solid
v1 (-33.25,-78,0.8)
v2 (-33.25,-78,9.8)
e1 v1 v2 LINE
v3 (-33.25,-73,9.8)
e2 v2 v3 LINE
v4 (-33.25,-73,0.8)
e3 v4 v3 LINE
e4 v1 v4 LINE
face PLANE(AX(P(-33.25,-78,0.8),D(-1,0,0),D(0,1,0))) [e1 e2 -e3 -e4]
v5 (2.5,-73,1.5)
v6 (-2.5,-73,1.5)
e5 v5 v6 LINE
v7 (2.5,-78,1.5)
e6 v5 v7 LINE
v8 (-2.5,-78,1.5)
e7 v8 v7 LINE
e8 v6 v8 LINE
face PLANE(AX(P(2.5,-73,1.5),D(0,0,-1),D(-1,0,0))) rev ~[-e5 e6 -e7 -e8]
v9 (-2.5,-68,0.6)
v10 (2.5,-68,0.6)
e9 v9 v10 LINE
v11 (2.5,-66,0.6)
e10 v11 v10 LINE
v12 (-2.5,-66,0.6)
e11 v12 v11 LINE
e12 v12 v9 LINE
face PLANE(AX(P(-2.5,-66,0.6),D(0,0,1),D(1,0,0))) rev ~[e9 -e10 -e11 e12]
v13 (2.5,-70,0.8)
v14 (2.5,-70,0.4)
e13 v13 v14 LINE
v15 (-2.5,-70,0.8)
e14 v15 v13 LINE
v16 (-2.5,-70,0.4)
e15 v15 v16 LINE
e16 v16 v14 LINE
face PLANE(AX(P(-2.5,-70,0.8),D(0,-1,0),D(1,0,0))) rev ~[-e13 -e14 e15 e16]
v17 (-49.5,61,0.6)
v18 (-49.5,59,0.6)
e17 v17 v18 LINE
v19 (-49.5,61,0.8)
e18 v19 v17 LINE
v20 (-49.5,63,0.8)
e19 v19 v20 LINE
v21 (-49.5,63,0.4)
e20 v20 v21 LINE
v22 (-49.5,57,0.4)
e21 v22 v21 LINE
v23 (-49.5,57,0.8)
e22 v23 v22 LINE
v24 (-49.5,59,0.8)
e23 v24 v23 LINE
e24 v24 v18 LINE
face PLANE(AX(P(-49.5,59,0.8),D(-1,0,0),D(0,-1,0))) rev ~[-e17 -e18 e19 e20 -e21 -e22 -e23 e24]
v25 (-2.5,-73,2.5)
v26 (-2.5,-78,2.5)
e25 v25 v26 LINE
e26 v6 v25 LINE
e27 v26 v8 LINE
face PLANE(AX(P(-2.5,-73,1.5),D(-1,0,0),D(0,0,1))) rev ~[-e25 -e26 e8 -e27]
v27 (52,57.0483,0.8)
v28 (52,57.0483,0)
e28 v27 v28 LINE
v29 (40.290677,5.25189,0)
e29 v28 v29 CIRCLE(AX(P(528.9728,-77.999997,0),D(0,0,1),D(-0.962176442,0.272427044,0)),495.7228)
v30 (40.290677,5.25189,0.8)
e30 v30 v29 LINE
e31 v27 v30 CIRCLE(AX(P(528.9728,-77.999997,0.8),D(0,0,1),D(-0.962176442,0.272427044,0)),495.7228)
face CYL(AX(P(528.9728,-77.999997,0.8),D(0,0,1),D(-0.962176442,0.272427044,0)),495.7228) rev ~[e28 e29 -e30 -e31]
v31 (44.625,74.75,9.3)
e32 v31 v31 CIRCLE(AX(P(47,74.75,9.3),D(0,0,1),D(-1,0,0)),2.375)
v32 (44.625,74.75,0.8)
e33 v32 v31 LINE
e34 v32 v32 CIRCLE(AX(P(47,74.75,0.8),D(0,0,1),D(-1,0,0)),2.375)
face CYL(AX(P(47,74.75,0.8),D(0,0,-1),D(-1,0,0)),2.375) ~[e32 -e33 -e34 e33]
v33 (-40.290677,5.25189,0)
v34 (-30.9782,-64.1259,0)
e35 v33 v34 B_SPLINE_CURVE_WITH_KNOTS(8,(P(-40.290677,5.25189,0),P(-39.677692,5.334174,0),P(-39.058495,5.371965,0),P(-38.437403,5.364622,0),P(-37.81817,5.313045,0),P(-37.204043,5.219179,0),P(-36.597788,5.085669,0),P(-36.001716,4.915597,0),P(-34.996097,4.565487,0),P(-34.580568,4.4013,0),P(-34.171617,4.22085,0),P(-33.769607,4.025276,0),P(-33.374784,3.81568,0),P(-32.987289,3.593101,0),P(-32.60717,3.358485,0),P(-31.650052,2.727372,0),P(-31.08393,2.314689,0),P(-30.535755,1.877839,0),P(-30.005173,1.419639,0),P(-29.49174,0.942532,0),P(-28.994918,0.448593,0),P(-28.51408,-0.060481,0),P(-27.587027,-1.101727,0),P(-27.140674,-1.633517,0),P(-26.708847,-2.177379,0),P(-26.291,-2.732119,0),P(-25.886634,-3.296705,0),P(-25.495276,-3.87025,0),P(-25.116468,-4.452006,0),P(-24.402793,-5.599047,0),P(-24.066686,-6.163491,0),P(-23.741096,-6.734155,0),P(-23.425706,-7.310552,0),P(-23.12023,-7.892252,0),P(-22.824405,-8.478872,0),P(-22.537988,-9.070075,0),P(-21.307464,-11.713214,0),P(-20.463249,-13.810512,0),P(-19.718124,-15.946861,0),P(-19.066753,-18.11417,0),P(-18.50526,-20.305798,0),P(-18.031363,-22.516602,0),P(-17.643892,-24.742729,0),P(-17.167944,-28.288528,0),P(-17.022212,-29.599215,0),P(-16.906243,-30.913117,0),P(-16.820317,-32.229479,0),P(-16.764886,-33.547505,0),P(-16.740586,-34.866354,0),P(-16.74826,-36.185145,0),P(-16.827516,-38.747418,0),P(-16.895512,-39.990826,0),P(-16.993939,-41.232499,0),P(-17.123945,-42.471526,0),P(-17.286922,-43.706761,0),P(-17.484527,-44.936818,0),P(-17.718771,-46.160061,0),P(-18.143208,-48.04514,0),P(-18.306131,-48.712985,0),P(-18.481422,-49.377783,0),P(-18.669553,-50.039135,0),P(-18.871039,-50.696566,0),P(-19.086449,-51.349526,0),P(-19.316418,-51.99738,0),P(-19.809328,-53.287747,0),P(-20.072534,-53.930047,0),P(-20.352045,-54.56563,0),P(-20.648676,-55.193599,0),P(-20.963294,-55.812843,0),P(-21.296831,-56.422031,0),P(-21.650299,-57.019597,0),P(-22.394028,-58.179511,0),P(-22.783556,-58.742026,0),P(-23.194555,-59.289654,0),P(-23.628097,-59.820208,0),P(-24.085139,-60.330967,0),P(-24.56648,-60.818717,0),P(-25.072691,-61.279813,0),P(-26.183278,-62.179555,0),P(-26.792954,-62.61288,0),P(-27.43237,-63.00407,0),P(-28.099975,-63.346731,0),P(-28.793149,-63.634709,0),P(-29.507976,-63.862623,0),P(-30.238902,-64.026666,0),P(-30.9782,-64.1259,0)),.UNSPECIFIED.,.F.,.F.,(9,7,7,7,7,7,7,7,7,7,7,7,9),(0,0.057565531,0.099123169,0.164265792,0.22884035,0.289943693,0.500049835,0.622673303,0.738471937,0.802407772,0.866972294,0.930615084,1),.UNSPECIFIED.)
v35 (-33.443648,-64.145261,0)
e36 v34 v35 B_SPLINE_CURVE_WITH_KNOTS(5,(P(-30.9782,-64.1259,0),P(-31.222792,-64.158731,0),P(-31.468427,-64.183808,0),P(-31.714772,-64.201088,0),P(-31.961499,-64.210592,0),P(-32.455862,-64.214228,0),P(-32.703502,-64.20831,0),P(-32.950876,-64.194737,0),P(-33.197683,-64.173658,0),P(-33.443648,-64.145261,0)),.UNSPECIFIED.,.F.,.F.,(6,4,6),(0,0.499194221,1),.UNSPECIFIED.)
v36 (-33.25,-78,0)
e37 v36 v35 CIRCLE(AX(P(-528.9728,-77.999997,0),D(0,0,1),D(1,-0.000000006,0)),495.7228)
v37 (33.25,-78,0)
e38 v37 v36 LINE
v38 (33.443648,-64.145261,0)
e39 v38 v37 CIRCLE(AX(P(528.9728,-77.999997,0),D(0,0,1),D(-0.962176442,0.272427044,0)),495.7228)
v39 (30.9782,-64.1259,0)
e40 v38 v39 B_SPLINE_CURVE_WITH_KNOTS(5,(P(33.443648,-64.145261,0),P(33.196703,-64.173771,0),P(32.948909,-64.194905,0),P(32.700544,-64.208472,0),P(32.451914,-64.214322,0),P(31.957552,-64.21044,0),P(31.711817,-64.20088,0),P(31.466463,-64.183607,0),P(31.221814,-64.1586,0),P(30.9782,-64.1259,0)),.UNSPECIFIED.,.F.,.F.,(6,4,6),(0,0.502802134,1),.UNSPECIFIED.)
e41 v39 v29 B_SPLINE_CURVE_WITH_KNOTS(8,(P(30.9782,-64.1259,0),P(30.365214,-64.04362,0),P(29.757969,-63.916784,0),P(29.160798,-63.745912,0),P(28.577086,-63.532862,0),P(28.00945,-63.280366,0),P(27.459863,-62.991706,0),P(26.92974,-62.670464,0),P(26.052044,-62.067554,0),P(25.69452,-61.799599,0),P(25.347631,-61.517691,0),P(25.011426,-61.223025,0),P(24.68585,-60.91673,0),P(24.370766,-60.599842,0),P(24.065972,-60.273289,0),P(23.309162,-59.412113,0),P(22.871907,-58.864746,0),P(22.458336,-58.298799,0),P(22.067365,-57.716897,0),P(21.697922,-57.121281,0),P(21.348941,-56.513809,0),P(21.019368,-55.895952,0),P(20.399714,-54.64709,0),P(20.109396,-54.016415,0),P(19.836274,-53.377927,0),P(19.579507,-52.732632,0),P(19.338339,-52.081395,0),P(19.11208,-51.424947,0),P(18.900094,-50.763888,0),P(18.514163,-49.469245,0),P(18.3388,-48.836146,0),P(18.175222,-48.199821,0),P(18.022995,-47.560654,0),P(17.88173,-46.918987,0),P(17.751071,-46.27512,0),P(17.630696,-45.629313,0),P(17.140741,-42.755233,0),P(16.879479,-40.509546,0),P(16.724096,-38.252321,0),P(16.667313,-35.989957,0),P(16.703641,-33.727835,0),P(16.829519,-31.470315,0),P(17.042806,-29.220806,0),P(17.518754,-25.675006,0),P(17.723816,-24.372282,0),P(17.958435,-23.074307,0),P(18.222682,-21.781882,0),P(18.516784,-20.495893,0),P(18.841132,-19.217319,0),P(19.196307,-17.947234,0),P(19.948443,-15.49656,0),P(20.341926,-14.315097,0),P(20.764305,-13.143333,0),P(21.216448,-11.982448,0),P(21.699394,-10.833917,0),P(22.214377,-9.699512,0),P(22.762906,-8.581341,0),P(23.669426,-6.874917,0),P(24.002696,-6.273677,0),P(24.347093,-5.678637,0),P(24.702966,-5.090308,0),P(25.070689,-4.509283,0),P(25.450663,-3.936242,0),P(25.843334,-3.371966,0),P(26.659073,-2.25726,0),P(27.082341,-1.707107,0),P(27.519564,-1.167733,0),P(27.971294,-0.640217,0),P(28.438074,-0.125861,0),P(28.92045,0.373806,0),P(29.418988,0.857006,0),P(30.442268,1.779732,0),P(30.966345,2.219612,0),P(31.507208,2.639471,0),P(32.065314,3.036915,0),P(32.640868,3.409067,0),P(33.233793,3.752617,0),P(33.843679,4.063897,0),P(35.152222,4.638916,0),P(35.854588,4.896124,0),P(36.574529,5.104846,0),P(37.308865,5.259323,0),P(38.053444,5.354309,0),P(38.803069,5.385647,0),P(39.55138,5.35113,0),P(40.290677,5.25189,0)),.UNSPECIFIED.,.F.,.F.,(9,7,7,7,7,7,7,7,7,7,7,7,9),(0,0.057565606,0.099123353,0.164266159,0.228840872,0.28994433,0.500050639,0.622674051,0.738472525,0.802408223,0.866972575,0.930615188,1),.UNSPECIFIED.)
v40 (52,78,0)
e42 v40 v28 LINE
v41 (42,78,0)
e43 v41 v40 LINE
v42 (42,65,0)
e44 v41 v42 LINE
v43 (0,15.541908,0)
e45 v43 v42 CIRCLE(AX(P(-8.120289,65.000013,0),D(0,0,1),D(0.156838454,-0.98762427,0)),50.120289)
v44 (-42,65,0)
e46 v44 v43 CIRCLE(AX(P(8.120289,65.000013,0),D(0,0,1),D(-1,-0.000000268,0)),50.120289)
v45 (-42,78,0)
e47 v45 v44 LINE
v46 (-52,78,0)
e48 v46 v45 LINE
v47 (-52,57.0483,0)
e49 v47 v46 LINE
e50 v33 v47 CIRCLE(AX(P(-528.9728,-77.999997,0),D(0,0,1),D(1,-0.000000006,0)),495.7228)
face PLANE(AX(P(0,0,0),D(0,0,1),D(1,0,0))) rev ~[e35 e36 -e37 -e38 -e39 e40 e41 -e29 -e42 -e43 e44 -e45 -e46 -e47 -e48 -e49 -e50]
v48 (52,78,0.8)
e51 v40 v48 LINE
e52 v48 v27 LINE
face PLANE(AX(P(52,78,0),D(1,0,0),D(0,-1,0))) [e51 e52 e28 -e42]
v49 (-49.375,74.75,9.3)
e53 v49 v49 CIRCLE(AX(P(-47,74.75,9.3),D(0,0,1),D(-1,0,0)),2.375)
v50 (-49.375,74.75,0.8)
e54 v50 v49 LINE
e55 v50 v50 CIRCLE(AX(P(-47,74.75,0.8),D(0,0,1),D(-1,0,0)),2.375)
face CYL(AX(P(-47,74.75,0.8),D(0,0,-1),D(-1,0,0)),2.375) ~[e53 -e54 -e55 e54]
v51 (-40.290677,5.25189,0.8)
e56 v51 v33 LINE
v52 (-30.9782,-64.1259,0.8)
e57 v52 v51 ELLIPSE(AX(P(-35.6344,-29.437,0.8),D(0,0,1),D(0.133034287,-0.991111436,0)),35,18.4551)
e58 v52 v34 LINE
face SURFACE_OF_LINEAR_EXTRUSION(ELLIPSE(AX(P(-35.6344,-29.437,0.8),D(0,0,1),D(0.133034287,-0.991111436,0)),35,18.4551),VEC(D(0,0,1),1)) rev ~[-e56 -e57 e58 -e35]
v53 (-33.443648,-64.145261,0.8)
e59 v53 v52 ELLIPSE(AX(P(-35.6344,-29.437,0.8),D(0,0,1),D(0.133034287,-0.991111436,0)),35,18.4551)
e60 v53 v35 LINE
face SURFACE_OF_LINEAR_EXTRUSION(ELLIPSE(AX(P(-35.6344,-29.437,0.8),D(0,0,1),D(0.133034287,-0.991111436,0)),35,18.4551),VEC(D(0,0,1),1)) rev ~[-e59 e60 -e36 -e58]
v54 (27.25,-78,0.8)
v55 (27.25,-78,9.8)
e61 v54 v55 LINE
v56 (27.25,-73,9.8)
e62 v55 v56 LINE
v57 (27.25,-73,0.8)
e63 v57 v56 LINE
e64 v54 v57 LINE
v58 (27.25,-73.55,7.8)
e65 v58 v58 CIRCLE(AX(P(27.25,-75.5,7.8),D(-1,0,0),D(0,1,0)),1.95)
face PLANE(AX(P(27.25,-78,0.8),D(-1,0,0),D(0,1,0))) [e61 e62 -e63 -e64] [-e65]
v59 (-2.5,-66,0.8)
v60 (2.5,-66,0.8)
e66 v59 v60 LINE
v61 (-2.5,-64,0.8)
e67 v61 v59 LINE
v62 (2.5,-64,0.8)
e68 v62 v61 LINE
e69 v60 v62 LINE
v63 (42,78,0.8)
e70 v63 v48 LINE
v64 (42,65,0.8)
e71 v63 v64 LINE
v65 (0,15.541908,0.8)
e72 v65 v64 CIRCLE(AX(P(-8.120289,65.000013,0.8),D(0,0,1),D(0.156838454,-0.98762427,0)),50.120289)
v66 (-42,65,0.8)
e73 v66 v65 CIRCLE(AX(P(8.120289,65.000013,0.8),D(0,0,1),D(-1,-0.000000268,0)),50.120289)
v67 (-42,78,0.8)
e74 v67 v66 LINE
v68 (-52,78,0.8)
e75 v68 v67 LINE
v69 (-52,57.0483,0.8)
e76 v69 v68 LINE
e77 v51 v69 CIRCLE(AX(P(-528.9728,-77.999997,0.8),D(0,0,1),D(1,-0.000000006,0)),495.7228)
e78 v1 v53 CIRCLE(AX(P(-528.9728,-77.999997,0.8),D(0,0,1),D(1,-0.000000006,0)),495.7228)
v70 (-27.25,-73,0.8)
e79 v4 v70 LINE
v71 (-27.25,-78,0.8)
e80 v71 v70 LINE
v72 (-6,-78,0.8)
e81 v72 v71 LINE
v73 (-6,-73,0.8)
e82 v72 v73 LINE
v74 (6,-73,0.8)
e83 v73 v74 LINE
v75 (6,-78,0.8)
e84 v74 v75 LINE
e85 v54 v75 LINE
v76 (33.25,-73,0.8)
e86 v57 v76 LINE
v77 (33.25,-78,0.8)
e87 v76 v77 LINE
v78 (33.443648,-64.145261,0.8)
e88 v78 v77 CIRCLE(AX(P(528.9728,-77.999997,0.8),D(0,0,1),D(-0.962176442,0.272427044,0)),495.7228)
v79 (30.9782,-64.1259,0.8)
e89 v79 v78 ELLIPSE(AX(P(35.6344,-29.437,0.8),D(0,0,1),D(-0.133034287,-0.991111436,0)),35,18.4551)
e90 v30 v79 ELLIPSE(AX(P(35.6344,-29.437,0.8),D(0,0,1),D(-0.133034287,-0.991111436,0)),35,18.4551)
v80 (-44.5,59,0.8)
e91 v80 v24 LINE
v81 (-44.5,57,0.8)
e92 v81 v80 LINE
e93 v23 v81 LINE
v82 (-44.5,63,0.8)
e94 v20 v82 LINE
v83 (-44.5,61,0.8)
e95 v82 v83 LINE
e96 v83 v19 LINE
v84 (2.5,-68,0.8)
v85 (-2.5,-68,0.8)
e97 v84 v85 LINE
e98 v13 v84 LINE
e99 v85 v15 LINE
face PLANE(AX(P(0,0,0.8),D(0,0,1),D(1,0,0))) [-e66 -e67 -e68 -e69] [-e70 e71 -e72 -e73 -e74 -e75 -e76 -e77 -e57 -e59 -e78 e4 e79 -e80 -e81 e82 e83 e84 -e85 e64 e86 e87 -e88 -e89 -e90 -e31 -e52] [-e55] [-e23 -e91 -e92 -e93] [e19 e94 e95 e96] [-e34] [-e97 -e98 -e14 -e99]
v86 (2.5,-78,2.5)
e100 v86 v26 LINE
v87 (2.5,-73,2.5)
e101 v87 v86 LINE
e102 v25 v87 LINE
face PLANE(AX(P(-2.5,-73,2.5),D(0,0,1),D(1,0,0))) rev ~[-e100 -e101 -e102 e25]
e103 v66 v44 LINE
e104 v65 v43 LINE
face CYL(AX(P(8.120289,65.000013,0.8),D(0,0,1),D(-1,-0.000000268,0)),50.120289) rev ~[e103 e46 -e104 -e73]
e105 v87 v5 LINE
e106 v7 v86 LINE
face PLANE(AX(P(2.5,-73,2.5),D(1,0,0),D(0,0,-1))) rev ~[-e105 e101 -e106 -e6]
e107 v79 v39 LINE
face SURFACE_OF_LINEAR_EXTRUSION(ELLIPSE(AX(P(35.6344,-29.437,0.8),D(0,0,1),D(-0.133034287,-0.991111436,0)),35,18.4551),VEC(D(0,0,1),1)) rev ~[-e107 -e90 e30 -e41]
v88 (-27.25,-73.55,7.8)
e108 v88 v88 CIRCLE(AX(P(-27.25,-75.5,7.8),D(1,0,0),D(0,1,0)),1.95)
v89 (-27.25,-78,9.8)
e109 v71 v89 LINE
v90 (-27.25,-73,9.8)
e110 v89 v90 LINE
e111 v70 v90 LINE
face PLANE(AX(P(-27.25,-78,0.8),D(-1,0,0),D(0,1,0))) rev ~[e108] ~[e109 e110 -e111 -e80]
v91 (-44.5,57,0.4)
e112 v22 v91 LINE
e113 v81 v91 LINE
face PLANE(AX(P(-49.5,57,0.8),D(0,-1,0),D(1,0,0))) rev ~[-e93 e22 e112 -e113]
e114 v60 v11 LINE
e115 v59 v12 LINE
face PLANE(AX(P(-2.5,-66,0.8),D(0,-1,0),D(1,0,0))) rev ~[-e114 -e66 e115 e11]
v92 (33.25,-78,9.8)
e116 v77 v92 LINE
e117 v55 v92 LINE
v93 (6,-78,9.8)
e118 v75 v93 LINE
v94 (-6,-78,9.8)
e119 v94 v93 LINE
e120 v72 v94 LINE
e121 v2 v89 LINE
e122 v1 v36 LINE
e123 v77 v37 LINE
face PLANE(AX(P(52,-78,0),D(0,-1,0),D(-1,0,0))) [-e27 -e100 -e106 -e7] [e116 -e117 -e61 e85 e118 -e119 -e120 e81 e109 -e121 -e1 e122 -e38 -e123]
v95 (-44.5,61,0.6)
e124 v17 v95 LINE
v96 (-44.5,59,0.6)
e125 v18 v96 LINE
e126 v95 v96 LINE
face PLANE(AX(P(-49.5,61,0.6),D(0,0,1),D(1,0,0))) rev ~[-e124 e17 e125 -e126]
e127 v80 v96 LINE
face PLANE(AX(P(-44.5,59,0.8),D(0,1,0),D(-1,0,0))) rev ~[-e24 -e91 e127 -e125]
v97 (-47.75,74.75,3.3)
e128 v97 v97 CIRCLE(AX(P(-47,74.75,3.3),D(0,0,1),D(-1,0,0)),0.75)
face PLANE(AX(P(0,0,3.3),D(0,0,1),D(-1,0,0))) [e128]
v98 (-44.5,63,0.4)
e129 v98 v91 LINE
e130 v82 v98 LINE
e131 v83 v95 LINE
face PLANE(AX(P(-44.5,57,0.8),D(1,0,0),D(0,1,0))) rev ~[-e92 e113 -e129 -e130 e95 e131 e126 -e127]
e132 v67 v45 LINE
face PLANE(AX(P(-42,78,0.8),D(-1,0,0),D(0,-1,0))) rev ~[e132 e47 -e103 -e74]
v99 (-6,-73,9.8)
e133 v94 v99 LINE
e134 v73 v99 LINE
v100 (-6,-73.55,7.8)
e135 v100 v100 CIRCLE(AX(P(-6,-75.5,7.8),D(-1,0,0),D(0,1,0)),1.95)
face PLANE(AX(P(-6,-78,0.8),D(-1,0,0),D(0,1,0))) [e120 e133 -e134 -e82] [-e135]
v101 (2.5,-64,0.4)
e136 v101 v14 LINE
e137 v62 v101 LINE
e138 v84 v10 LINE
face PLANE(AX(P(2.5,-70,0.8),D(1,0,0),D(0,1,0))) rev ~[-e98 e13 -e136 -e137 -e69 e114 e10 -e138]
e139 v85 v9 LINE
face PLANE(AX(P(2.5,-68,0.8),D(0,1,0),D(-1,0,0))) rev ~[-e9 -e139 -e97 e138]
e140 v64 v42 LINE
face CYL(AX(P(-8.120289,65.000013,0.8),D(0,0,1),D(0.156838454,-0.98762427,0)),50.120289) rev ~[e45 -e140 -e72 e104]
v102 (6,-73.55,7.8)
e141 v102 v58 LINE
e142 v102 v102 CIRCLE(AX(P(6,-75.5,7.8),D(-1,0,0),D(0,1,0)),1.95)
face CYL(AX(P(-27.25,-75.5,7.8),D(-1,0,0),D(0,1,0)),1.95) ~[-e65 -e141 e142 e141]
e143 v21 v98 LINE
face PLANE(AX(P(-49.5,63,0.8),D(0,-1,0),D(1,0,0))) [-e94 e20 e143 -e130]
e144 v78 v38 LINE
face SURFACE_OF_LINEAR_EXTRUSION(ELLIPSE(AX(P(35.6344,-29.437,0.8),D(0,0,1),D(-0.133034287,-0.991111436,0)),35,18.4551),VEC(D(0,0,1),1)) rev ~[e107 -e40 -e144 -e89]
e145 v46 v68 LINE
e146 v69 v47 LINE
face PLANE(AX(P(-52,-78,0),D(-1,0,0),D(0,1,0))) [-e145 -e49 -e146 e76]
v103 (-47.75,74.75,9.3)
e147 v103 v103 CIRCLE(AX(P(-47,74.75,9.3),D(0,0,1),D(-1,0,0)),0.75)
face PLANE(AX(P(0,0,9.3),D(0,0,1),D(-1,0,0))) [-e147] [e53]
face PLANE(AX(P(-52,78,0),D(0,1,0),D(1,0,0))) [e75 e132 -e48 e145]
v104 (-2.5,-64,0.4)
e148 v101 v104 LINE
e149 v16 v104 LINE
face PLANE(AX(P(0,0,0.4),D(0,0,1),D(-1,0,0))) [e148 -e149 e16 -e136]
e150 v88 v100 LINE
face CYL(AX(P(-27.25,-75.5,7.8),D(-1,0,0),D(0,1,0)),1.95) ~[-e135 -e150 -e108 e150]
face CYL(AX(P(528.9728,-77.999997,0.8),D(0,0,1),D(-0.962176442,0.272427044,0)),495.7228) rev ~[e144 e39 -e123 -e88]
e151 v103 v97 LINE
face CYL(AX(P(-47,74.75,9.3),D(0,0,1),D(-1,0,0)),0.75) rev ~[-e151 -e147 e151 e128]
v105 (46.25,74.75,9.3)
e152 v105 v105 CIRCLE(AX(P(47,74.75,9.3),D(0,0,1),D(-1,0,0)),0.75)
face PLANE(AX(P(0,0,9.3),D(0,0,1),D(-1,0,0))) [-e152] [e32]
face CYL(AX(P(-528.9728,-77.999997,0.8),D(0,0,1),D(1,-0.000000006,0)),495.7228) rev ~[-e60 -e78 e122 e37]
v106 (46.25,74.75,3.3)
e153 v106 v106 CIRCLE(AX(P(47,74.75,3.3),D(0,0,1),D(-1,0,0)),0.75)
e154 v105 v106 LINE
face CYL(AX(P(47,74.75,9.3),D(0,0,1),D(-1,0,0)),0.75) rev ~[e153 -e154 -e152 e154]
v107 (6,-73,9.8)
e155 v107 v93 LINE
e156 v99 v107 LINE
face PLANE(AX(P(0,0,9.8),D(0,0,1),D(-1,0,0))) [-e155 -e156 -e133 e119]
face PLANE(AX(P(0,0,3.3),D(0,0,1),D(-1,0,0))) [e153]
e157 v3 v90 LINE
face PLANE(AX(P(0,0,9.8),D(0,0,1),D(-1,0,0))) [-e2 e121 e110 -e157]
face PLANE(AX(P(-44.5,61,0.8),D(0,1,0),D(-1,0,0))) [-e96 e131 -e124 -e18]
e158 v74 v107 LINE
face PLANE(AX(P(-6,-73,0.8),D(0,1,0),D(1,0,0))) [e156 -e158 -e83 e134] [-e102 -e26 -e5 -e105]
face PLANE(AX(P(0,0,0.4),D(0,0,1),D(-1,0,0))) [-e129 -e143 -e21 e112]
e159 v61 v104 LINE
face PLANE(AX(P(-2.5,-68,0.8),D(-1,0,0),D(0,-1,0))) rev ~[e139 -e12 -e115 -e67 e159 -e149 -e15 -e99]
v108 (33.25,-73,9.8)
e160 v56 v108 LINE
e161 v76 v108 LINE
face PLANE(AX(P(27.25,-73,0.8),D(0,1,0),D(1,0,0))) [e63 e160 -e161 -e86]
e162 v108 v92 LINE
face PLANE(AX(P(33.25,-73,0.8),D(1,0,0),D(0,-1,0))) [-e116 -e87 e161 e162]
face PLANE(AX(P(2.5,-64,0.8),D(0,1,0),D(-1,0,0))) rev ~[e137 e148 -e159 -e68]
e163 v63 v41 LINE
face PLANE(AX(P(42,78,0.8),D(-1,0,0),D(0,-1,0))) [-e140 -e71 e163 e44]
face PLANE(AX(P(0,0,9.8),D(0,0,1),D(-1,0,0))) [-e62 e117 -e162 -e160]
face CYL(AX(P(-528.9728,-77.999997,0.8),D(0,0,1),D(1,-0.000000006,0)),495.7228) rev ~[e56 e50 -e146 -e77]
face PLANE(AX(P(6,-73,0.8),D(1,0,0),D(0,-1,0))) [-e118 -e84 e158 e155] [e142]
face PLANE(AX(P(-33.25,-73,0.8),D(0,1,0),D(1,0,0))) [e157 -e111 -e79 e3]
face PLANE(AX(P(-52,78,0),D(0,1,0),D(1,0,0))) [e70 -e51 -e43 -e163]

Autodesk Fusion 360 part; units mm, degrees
sketch "Esboço1" plane through (0, 0, 0) normal (0, 0, 1) x (1, 0, 0)
  line L0 (-52, 78) -> (52, 78)
  line L1 (52, 78) -> (52, -78)
  line L2 (52, -78) -> (-52, -78)
  line L3 (-52, -78) -> (-52, 78)
  dimension "d1" = 104
  dimension "d2" = 156
  dimension "d3" = 52
  dimension "d4" = 78
extrude "Extrusão1" add sketch "Esboço1" along normal blind 0.8
sketch "Esboço2" plane through (0, 0, 0.8) normal (0, 0, 1) x (-1, 0, 0)
  line L0 (52, 78) -> (-52, 78)
  line L1 (-52, 78) -> (-52, -78)
  line L2 (-52, -78) -> (52, -78)
  line L3 (52, -78) -> (52, 78)
  line L4 (-52, -78) -> (-42, -78)
  line L5 (-42, -78) -> (-42, -65)
  line L6 (-42, -65) -> (-52, -65)
  line L7 (-52, -65) -> (-52, -78)
  line L8 (0, -1.75) -> (0, -22.5)
  line L9 (42, -65) -> (52, -65)
  line L10 (42, -78) -> (42, -65)
  line L11 (52, -65) -> (52, -78)
  line L12 (52, -78) -> (42, -78)
  line L13 (42, -65) -> (-42, -65)
  line L14 (-42, -65) -> (-42, -78)
  line L15 (-42, -78) -> (42, -78)
  line L16 (42, -78) -> (42, -65)
  point P0 (52, -78)
  dimension "d7" = 10
  dimension "d8" = 13
extrude "Extrusão2" cut sketch "Esboço2" against normal blind 2 contours L2 L5 L10 L13 L14 L15 L16
sketch "Esboço3" plane through (0, 0, 0.8) normal (0, 0, 1) x (-1, 0, 0)
  line L0 (42, -65) -> (42, -78)
  line L1 (42, -78) -> (52, -78)
  line L2 (52, -78) -> (52, 78)
  line L3 (52, 78) -> (-52, 78)
  line L4 (-52, 78) -> (-52, -78)
  line L5 (-52, -78) -> (-42, -78)
  line L6 (-42, -78) -> (-42, -65)
  line L7 (-42, -65) -> (42, -65)
  line L8 (-33.25, 78) -> (33.25, 78)
  line L9 (33.25, 78) -> (33.25, 75)
  line L10 (33.25, 75) -> (-33.25, 75)
  line L11 (-33.25, 75) -> (-33.25, 78)
  arc A0 (33.25, 78) -> (52, -57.0483) centre (528.9728, 78) ccw
  line L12 (52, -57.0483) -> (52, 78)
  line L13 (0, -1.75) -> (0, -22.5)
  arc A1 (-52, -57.0483) -> (-33.25, 78) centre (-528.9728, 78) ccw
  line L14 (-33.25, 78) -> (-33.25, 75)
  line L15 (-52, -57.0483) -> (-52, 78)
  arc A2 (42, -65) -> (-0.2595, -15.5) centre (-8.1203, -65) ccw
  arc A3 (0.2595, -15.5) -> (-42, -65) centre (8.1203, -65) ccw
  point P0 (-52, 78)
  point P1 (-42, -65)
  point P2 (-0.2595, -15.5)
  dimension "d11" = 66.5
  dimension "d12" = 3
  dimension "d13" = 18.75
  dimension "d14" = 62.5
extrude "Extrusão3" cut sketch "Esboço3" against normal blind 2 contours L7 A2 A3 | L2 L3 A0 L12 | L3 L4 A1 L15
sketch "Esboço4" plane through (0, 0, 0.8) normal (0, 0, 1) x (-1, 0, 0)
  arc A0 (0, -15.5419) -> (-42, -65) centre (8.1203, -65) ccw
  arc A1 (42, -65) -> (0, -15.5419) centre (-8.1203, -65) ccw
  line L0 (42, -65) -> (42, -78)
  line L1 (42, -78) -> (52, -78)
  line L2 (52, -78) -> (52, -57.0483)
  arc A2 (33.25, 78) -> (52, -57.0483) centre (528.9728, 78) ccw
  line L3 (33.25, 78) -> (-33.25, 78)
  arc A3 (-52, -57.0483) -> (-33.25, 78) centre (-528.9728, 78) ccw
  line L4 (-52, -57.0483) -> (-52, -78)
  line L5 (-52, -78) -> (-42, -78)
  line L6 (-42, -78) -> (-42, -65)
  line L7 (-33.25, 78) -> (33.25, 78)
  line L8 (33.25, 78) -> (33.25, 73)
  line L9 (33.25, 73) -> (-33.25, 73)
  line L10 (-33.25, 73) -> (-33.25, 78)
  line L11 (-33.25, 78) -> (-27.25, 78)
  line L12 (-27.25, 78) -> (-27.25, 69)
  line L13 (-27.25, 69) -> (-33.25, 69)
  line L14 (-33.25, 69) -> (-33.25, 78)
  line L15 (33.25, 78) -> (27.25, 78)
  line L16 (27.25, 78) -> (27.25, 69)
  line L17 (27.25, 69) -> (33.25, 69)
  line L18 (33.25, 69) -> (33.25, 78)
  line L19 (-6, 78) -> (6, 78)
  line L20 (6, 78) -> (6, 69)
  line L21 (6, 69) -> (-6, 69)
  line L22 (-6, 69) -> (-6, 78)
  dimension "d17" = 66.5
  dimension "d18" = 5
  dimension "d19" = 6
  dimension "d20" = 6
  dimension "d21" = 12
  dimension "d22" = 6
extrude "Extrusão4" add sketch "Esboço4" along normal blind 9 contours L3 L7 L9 L10 L11 L12 L14 | L3 L7 L8 L9 L15 L16 L18 | L3 L7 L9 L19 L20 L22
sketch "Esboço5" plane through (-27.25, 0, 0) normal (1, 0, 0) x (0, 1, 0)
  line L0 (-78, 0.8) -> (-73, 0.8)
  line L1 (-73, 0.8) -> (-73, 9.8)
  line L2 (-73, 9.8) -> (-78, 9.8)
  circle A0 centre (-75.5, 7.8) radius 1.95
  line L3 (-78, 9.8) -> (-78, 0.8)
  point P0 (-75.5, 7.8)
  dimension "d25" = 2
  dimension "d27" = 3.9
  dimension "d43" = 2.5
extrude "Extrusão5" add sketch "Esboço5" along normal blind 60.5 contours A0
sketch "Esboço6" plane through (0, 0, 0.8) normal (0, 0, 1) x (-1, 0, 0)
  line L0 (-27.25, 78) -> (-27.25, 73)
  line L1 (-27.25, 73) -> (-33.25, 73)
  line L2 (-33.25, 73) -> (-33.25, 78)
  arc A0 (-52, -57.0483) -> (-33.25, 78) centre (-528.9728, 78) ccw
  line L3 (-52, -57.0483) -> (-52, -78)
  line L4 (-52, -78) -> (-42, -78)
  line L5 (-42, -78) -> (-42, -65)
  arc A1 (0, -15.5419) -> (-42, -65) centre (8.1203, -65) ccw
  arc A2 (42, -65) -> (0, -15.5419) centre (-8.1203, -65) ccw
  line L6 (42, -65) -> (42, -78)
  line L7 (42, -78) -> (52, -78)
  line L8 (52, -78) -> (52, -57.0483)
  arc A3 (33.25, 78) -> (52, -57.0483) centre (528.9728, 78) ccw
  line L9 (33.25, 78) -> (33.25, 73)
  line L10 (33.25, 73) -> (27.25, 73)
  line L11 (27.25, 73) -> (27.25, 78)
  line L12 (27.25, 78) -> (6, 78)
  line L13 (6, 78) -> (6, 73)
  line L14 (6, 73) -> (-6, 73)
  line L15 (-6, 73) -> (-6, 78)
  line L16 (-6, 78) -> (-27.25, 78)
  circle A4 centre (-47, -74.75) radius 2.375
  line L17 (0, -1.75) -> (0, -22.5)
  circle A5 centre (47, -74.75) radius 2.375
  point P0 (-47, -74.75)
  point P1 (47, -74.75)
  point P2 (52, -57.0483)
  point P3 (52, -78)
  point P4 (42, -78)
  point P5 (42, -65)
  dimension "d30" = 5
  dimension "d31" = 3.25
  dimension "d32" = 4.75
extrude "Extrusão6" add sketch "Esboço6" along normal blind 8.5 contours A4 | A5
sketch "Esboço7" plane through (0, 0, 9.3) normal (0, 0, 1) x (-1, 0, 0)
  circle A0 centre (-47, -74.75) radius 2.375
  circle A1 centre (-47, -74.75) radius 0.75
  line L0 (0, -1.75) -> (0, -22.5)
  circle A2 centre (47, -74.75) radius 0.75
  point P0 (47, -74.75)
  dimension "d36" = 1.5
  dimension "d37" = 1.625
extrude "Extrusão7" cut sketch "Esboço7" against normal blind 6 contours A1 | A2
sketch "Esboço8" plane through (0, 0, 0.8) normal (0, 0, 1) x (-1, 0, 0)
  circle A0 centre (47, -74.75) radius 2.375
  circle A1 centre (-47, -74.75) radius 2.375
  line L0 (-27.25, 78) -> (-27.25, 73)
  line L1 (-27.25, 73) -> (-33.25, 73)
  line L2 (-33.25, 73) -> (-33.25, 78)
  arc A2 (-52, -57.0483) -> (-33.25, 78) centre (-528.9728, 78) ccw
  line L3 (-52, -57.0483) -> (-52, -78)
  line L4 (-52, -78) -> (-42, -78)
  line L5 (-42, -78) -> (-42, -65)
  arc A3 (0, -15.5419) -> (-42, -65) centre (8.1203, -65) ccw
  arc A4 (42, -65) -> (0, -15.5419) centre (-8.1203, -65) ccw
  line L6 (42, -65) -> (42, -78)
  line L7 (42, -78) -> (52, -78)
  line L8 (52, -78) -> (52, -57.0483)
  arc A5 (33.25, 78) -> (52, -57.0483) centre (528.9728, 78) ccw
  line L9 (33.25, 78) -> (33.25, 73)
  line L10 (33.25, 73) -> (27.25, 73)
  line L11 (27.25, 73) -> (27.25, 78)
  line L12 (27.25, 78) -> (6, 78)
  line L13 (6, 78) -> (6, 73)
  line L14 (6, 73) -> (-6, 73)
  line L15 (-6, 73) -> (-6, 78)
  line L16 (-6, 78) -> (-27.25, 78)
  ellipse E0 centre (35.6344, 29.437) end of major axis (30.9782, 64.1259) minor radius 18.4551
  line L17 (40.2907, -5.2519) -> (30.9782, 64.1259) construction
  line L18 (53.9255, 31.8922) -> (17.3434, 26.9818) construction
  line L19 (0, -1.75) -> (0, -22.5)
  ellipse E1 centre (-35.6344, 29.437) end of major axis (-30.9782, 64.1259) minor radius 18.4551
  dimension "d42" = 70
extrude "Extrusão8" cut sketch "Esboço8" against normal blind 10 contours A2 E1 | A5 E0 picked at (-29.7614, 27.7315) picked at (29.5401, 29.38)
sketch "Esboço9" plane through (0, 0, 0.8) normal (0, 0, 1) x (-1, 0, 0)
  ellipse E0 centre (35.6344, 29.437) end of major axis (30.9782, 64.1259) minor radius 18.4551 (33.4436, 64.1453) -> (40.2907, -5.2519) ccw
  arc A0 (33.25, 78) -> (33.4436, 64.1453) centre (528.9728, 78) ccw
  line L0 (33.25, 78) -> (33.25, 73)
  line L1 (33.25, 73) -> (27.25, 73)
  line L2 (27.25, 73) -> (27.25, 78)
  line L3 (27.25, 78) -> (6, 78)
  line L4 (6, 78) -> (6, 73)
  line L5 (6, 73) -> (-6, 73)
  line L6 (-6, 73) -> (-6, 78)
  line L7 (-6, 78) -> (-27.25, 78)
  line L8 (-27.25, 78) -> (-27.25, 73)
  line L9 (-27.25, 73) -> (-33.25, 73)
  line L10 (-33.25, 73) -> (-33.25, 78)
  arc A1 (-33.4436, 64.1453) -> (-33.25, 78) centre (-528.9728, 78) ccw
  ellipse E1 centre (-35.6344, 29.437) end of major axis (-30.9782, 64.1259) minor radius 18.4551 (-40.2907, -5.2519) -> (-33.4436, 64.1453) ccw
  arc A2 (-52, -57.0483) -> (-40.2907, -5.2519) centre (-528.9728, 78) ccw
  line L11 (-52, -57.0483) -> (-52, -78)
  line L12 (-52, -78) -> (-42, -78)
  line L13 (-42, -78) -> (-42, -65)
  arc A3 (0, -15.5419) -> (-42, -65) centre (8.1203, -65) ccw
  arc A4 (42, -65) -> (0, -15.5419) centre (-8.1203, -65) ccw
  line L14 (42, -65) -> (42, -78)
  line L15 (42, -78) -> (52, -78)
  line L16 (52, -78) -> (52, -57.0483)
  arc A5 (40.2907, -5.2519) -> (52, -57.0483) centre (528.9728, 78) ccw
  circle A6 centre (-47, -74.75) radius 2.375
  circle A7 centre (47, -74.75) radius 2.375
  line L17 (49.5, -63) -> (44.5, -63)
  line L18 (44.5, -63) -> (44.5, -61)
  line L19 (44.5, -61) -> (49.5, -61)
  line L20 (49.5, -61) -> (49.5, -63)
  line L21 (44.5, -59) -> (49.5, -59)
  line L22 (49.5, -59) -> (49.5, -57)
  line L23 (49.5, -57) -> (44.5, -57)
  line L24 (44.5, -57) -> (44.5, -59)
  line L25 (2.5, 70) -> (-2.5, 70)
  line L26 (-2.5, 70) -> (-2.5, 68)
  line L27 (-2.5, 68) -> (2.5, 68)
  line L28 (2.5, 68) -> (2.5, 70)
  line L29 (2.5, 66) -> (-2.5, 66)
  line L30 (-2.5, 66) -> (-2.5, 64)
  line L31 (-2.5, 64) -> (2.5, 64)
  line L32 (2.5, 64) -> (2.5, 66)
  dimension "d44" = 5
  dimension "d45" = 2
  dimension "d46" = 2.5
  dimension "d47" = 2.5
  dimension "d48" = 15
  dimension "d49" = 2.5
  dimension "d50" = 2
  dimension "d51" = 2
  dimension "d52" = 5
  dimension "d53" = 5
  dimension "d54" = 2
  dimension "d55" = 12
  dimension "d56" = 3.5
  dimension "d57" = 3
  dimension "d58" = 5
  dimension "d59" = 2
  dimension "d60" = 2
extrude "Extrusão9" cut sketch "Esboço9" against normal blind 0.4 contours L17 L18 L19 L20 | L21 L22 L23 L24 | L25 L26 L27 L28 | L29 L30 L31 L32
sketch "Esboço10" plane through (0, 61, 0) normal (0, 1, 0) x (-1, 0, 0)
  line L0 (49.5, 0.8) -> (44.5, 0.8)
  line L1 (44.5, 0.8) -> (44.5, 0.4)
  line L2 (44.5, 0.4) -> (49.5, 0.4)
  line L3 (49.5, 0.4) -> (49.5, 0.8)
  line L4 (44.5, 0.4) -> (49.5, 0.4)
  line L5 (49.5, 0.4) -> (49.5, 0.6)
  line L6 (49.5, 0.6) -> (44.5, 0.6)
  line L7 (44.5, 0.6) -> (44.5, 0.4)
  dimension "d63" = 5
extrude "Extrusão10" cut sketch "Esboço10" against normal blind 2 contours L1 L2 L3 L4 L5 L6 L7
sketch "Esboço11" plane through (0, -73, 0) normal (0, 1, 0) x (-1, 0, 0)
  line L0 (-6, 0.8) -> (6, 0.8)
  line L1 (6, 0.8) -> (6, 9.8)
  line L2 (6, 9.8) -> (-6, 9.8)
  line L3 (-6, 9.8) -> (-6, 0.8)
  line L4 (-2.5, 1.5) -> (2.5, 1.5)
  line L5 (2.5, 1.5) -> (2.5, 2.5)
  line L6 (2.5, 2.5) -> (-2.5, 2.5)
  line L7 (-2.5, 2.5) -> (-2.5, 1.5)
  dimension "d66" = 1
  dimension "d67" = 5
  dimension "d68" = 3.5
extrude "Extrusão11" cut sketch "Esboço11" against normal blind 20 contours L4 L5 L6 L7
sketch "Esboço12" plane through (0, -66, 0) normal (0, 1, 0) x (-1, 0, 0)
  line L0 (2.5, 0.8) -> (-2.5, 0.8)
  line L1 (-2.5, 0.8) -> (-2.5, 0.4)
  line L2 (-2.5, 0.4) -> (2.5, 0.4)
  line L3 (2.5, 0.4) -> (2.5, 0.8)
  line L4 (-2.5, 0.4) -> (2.5, 0.4)
  line L5 (2.5, 0.4) -> (2.5, 0.6)
  line L6 (2.5, 0.6) -> (-2.5, 0.6)
  line L7 (-2.5, 0.6) -> (-2.5, 0.4)
  dimension "d71" = 5
extrude "Extrusão12" cut sketch "Esboço12" against normal blind 2 contours L1 L2 L3 L4 L5 L6 L7
equation "d2 = 148 mm + 8 mm"
equation "d3 = ( 104 / 2 ) * 1 mm"
equation "d4 = ( ( 148 + 8 ) / 2 ) * 1 mm"
equation "d13 = ( ( 104 - 66.5 ) / 2 ) * 1 mm"
equation "d22 = ( 12 / 2 ) * 1 mm"
equation "d28 = 66.5 mm - 6 mm"
